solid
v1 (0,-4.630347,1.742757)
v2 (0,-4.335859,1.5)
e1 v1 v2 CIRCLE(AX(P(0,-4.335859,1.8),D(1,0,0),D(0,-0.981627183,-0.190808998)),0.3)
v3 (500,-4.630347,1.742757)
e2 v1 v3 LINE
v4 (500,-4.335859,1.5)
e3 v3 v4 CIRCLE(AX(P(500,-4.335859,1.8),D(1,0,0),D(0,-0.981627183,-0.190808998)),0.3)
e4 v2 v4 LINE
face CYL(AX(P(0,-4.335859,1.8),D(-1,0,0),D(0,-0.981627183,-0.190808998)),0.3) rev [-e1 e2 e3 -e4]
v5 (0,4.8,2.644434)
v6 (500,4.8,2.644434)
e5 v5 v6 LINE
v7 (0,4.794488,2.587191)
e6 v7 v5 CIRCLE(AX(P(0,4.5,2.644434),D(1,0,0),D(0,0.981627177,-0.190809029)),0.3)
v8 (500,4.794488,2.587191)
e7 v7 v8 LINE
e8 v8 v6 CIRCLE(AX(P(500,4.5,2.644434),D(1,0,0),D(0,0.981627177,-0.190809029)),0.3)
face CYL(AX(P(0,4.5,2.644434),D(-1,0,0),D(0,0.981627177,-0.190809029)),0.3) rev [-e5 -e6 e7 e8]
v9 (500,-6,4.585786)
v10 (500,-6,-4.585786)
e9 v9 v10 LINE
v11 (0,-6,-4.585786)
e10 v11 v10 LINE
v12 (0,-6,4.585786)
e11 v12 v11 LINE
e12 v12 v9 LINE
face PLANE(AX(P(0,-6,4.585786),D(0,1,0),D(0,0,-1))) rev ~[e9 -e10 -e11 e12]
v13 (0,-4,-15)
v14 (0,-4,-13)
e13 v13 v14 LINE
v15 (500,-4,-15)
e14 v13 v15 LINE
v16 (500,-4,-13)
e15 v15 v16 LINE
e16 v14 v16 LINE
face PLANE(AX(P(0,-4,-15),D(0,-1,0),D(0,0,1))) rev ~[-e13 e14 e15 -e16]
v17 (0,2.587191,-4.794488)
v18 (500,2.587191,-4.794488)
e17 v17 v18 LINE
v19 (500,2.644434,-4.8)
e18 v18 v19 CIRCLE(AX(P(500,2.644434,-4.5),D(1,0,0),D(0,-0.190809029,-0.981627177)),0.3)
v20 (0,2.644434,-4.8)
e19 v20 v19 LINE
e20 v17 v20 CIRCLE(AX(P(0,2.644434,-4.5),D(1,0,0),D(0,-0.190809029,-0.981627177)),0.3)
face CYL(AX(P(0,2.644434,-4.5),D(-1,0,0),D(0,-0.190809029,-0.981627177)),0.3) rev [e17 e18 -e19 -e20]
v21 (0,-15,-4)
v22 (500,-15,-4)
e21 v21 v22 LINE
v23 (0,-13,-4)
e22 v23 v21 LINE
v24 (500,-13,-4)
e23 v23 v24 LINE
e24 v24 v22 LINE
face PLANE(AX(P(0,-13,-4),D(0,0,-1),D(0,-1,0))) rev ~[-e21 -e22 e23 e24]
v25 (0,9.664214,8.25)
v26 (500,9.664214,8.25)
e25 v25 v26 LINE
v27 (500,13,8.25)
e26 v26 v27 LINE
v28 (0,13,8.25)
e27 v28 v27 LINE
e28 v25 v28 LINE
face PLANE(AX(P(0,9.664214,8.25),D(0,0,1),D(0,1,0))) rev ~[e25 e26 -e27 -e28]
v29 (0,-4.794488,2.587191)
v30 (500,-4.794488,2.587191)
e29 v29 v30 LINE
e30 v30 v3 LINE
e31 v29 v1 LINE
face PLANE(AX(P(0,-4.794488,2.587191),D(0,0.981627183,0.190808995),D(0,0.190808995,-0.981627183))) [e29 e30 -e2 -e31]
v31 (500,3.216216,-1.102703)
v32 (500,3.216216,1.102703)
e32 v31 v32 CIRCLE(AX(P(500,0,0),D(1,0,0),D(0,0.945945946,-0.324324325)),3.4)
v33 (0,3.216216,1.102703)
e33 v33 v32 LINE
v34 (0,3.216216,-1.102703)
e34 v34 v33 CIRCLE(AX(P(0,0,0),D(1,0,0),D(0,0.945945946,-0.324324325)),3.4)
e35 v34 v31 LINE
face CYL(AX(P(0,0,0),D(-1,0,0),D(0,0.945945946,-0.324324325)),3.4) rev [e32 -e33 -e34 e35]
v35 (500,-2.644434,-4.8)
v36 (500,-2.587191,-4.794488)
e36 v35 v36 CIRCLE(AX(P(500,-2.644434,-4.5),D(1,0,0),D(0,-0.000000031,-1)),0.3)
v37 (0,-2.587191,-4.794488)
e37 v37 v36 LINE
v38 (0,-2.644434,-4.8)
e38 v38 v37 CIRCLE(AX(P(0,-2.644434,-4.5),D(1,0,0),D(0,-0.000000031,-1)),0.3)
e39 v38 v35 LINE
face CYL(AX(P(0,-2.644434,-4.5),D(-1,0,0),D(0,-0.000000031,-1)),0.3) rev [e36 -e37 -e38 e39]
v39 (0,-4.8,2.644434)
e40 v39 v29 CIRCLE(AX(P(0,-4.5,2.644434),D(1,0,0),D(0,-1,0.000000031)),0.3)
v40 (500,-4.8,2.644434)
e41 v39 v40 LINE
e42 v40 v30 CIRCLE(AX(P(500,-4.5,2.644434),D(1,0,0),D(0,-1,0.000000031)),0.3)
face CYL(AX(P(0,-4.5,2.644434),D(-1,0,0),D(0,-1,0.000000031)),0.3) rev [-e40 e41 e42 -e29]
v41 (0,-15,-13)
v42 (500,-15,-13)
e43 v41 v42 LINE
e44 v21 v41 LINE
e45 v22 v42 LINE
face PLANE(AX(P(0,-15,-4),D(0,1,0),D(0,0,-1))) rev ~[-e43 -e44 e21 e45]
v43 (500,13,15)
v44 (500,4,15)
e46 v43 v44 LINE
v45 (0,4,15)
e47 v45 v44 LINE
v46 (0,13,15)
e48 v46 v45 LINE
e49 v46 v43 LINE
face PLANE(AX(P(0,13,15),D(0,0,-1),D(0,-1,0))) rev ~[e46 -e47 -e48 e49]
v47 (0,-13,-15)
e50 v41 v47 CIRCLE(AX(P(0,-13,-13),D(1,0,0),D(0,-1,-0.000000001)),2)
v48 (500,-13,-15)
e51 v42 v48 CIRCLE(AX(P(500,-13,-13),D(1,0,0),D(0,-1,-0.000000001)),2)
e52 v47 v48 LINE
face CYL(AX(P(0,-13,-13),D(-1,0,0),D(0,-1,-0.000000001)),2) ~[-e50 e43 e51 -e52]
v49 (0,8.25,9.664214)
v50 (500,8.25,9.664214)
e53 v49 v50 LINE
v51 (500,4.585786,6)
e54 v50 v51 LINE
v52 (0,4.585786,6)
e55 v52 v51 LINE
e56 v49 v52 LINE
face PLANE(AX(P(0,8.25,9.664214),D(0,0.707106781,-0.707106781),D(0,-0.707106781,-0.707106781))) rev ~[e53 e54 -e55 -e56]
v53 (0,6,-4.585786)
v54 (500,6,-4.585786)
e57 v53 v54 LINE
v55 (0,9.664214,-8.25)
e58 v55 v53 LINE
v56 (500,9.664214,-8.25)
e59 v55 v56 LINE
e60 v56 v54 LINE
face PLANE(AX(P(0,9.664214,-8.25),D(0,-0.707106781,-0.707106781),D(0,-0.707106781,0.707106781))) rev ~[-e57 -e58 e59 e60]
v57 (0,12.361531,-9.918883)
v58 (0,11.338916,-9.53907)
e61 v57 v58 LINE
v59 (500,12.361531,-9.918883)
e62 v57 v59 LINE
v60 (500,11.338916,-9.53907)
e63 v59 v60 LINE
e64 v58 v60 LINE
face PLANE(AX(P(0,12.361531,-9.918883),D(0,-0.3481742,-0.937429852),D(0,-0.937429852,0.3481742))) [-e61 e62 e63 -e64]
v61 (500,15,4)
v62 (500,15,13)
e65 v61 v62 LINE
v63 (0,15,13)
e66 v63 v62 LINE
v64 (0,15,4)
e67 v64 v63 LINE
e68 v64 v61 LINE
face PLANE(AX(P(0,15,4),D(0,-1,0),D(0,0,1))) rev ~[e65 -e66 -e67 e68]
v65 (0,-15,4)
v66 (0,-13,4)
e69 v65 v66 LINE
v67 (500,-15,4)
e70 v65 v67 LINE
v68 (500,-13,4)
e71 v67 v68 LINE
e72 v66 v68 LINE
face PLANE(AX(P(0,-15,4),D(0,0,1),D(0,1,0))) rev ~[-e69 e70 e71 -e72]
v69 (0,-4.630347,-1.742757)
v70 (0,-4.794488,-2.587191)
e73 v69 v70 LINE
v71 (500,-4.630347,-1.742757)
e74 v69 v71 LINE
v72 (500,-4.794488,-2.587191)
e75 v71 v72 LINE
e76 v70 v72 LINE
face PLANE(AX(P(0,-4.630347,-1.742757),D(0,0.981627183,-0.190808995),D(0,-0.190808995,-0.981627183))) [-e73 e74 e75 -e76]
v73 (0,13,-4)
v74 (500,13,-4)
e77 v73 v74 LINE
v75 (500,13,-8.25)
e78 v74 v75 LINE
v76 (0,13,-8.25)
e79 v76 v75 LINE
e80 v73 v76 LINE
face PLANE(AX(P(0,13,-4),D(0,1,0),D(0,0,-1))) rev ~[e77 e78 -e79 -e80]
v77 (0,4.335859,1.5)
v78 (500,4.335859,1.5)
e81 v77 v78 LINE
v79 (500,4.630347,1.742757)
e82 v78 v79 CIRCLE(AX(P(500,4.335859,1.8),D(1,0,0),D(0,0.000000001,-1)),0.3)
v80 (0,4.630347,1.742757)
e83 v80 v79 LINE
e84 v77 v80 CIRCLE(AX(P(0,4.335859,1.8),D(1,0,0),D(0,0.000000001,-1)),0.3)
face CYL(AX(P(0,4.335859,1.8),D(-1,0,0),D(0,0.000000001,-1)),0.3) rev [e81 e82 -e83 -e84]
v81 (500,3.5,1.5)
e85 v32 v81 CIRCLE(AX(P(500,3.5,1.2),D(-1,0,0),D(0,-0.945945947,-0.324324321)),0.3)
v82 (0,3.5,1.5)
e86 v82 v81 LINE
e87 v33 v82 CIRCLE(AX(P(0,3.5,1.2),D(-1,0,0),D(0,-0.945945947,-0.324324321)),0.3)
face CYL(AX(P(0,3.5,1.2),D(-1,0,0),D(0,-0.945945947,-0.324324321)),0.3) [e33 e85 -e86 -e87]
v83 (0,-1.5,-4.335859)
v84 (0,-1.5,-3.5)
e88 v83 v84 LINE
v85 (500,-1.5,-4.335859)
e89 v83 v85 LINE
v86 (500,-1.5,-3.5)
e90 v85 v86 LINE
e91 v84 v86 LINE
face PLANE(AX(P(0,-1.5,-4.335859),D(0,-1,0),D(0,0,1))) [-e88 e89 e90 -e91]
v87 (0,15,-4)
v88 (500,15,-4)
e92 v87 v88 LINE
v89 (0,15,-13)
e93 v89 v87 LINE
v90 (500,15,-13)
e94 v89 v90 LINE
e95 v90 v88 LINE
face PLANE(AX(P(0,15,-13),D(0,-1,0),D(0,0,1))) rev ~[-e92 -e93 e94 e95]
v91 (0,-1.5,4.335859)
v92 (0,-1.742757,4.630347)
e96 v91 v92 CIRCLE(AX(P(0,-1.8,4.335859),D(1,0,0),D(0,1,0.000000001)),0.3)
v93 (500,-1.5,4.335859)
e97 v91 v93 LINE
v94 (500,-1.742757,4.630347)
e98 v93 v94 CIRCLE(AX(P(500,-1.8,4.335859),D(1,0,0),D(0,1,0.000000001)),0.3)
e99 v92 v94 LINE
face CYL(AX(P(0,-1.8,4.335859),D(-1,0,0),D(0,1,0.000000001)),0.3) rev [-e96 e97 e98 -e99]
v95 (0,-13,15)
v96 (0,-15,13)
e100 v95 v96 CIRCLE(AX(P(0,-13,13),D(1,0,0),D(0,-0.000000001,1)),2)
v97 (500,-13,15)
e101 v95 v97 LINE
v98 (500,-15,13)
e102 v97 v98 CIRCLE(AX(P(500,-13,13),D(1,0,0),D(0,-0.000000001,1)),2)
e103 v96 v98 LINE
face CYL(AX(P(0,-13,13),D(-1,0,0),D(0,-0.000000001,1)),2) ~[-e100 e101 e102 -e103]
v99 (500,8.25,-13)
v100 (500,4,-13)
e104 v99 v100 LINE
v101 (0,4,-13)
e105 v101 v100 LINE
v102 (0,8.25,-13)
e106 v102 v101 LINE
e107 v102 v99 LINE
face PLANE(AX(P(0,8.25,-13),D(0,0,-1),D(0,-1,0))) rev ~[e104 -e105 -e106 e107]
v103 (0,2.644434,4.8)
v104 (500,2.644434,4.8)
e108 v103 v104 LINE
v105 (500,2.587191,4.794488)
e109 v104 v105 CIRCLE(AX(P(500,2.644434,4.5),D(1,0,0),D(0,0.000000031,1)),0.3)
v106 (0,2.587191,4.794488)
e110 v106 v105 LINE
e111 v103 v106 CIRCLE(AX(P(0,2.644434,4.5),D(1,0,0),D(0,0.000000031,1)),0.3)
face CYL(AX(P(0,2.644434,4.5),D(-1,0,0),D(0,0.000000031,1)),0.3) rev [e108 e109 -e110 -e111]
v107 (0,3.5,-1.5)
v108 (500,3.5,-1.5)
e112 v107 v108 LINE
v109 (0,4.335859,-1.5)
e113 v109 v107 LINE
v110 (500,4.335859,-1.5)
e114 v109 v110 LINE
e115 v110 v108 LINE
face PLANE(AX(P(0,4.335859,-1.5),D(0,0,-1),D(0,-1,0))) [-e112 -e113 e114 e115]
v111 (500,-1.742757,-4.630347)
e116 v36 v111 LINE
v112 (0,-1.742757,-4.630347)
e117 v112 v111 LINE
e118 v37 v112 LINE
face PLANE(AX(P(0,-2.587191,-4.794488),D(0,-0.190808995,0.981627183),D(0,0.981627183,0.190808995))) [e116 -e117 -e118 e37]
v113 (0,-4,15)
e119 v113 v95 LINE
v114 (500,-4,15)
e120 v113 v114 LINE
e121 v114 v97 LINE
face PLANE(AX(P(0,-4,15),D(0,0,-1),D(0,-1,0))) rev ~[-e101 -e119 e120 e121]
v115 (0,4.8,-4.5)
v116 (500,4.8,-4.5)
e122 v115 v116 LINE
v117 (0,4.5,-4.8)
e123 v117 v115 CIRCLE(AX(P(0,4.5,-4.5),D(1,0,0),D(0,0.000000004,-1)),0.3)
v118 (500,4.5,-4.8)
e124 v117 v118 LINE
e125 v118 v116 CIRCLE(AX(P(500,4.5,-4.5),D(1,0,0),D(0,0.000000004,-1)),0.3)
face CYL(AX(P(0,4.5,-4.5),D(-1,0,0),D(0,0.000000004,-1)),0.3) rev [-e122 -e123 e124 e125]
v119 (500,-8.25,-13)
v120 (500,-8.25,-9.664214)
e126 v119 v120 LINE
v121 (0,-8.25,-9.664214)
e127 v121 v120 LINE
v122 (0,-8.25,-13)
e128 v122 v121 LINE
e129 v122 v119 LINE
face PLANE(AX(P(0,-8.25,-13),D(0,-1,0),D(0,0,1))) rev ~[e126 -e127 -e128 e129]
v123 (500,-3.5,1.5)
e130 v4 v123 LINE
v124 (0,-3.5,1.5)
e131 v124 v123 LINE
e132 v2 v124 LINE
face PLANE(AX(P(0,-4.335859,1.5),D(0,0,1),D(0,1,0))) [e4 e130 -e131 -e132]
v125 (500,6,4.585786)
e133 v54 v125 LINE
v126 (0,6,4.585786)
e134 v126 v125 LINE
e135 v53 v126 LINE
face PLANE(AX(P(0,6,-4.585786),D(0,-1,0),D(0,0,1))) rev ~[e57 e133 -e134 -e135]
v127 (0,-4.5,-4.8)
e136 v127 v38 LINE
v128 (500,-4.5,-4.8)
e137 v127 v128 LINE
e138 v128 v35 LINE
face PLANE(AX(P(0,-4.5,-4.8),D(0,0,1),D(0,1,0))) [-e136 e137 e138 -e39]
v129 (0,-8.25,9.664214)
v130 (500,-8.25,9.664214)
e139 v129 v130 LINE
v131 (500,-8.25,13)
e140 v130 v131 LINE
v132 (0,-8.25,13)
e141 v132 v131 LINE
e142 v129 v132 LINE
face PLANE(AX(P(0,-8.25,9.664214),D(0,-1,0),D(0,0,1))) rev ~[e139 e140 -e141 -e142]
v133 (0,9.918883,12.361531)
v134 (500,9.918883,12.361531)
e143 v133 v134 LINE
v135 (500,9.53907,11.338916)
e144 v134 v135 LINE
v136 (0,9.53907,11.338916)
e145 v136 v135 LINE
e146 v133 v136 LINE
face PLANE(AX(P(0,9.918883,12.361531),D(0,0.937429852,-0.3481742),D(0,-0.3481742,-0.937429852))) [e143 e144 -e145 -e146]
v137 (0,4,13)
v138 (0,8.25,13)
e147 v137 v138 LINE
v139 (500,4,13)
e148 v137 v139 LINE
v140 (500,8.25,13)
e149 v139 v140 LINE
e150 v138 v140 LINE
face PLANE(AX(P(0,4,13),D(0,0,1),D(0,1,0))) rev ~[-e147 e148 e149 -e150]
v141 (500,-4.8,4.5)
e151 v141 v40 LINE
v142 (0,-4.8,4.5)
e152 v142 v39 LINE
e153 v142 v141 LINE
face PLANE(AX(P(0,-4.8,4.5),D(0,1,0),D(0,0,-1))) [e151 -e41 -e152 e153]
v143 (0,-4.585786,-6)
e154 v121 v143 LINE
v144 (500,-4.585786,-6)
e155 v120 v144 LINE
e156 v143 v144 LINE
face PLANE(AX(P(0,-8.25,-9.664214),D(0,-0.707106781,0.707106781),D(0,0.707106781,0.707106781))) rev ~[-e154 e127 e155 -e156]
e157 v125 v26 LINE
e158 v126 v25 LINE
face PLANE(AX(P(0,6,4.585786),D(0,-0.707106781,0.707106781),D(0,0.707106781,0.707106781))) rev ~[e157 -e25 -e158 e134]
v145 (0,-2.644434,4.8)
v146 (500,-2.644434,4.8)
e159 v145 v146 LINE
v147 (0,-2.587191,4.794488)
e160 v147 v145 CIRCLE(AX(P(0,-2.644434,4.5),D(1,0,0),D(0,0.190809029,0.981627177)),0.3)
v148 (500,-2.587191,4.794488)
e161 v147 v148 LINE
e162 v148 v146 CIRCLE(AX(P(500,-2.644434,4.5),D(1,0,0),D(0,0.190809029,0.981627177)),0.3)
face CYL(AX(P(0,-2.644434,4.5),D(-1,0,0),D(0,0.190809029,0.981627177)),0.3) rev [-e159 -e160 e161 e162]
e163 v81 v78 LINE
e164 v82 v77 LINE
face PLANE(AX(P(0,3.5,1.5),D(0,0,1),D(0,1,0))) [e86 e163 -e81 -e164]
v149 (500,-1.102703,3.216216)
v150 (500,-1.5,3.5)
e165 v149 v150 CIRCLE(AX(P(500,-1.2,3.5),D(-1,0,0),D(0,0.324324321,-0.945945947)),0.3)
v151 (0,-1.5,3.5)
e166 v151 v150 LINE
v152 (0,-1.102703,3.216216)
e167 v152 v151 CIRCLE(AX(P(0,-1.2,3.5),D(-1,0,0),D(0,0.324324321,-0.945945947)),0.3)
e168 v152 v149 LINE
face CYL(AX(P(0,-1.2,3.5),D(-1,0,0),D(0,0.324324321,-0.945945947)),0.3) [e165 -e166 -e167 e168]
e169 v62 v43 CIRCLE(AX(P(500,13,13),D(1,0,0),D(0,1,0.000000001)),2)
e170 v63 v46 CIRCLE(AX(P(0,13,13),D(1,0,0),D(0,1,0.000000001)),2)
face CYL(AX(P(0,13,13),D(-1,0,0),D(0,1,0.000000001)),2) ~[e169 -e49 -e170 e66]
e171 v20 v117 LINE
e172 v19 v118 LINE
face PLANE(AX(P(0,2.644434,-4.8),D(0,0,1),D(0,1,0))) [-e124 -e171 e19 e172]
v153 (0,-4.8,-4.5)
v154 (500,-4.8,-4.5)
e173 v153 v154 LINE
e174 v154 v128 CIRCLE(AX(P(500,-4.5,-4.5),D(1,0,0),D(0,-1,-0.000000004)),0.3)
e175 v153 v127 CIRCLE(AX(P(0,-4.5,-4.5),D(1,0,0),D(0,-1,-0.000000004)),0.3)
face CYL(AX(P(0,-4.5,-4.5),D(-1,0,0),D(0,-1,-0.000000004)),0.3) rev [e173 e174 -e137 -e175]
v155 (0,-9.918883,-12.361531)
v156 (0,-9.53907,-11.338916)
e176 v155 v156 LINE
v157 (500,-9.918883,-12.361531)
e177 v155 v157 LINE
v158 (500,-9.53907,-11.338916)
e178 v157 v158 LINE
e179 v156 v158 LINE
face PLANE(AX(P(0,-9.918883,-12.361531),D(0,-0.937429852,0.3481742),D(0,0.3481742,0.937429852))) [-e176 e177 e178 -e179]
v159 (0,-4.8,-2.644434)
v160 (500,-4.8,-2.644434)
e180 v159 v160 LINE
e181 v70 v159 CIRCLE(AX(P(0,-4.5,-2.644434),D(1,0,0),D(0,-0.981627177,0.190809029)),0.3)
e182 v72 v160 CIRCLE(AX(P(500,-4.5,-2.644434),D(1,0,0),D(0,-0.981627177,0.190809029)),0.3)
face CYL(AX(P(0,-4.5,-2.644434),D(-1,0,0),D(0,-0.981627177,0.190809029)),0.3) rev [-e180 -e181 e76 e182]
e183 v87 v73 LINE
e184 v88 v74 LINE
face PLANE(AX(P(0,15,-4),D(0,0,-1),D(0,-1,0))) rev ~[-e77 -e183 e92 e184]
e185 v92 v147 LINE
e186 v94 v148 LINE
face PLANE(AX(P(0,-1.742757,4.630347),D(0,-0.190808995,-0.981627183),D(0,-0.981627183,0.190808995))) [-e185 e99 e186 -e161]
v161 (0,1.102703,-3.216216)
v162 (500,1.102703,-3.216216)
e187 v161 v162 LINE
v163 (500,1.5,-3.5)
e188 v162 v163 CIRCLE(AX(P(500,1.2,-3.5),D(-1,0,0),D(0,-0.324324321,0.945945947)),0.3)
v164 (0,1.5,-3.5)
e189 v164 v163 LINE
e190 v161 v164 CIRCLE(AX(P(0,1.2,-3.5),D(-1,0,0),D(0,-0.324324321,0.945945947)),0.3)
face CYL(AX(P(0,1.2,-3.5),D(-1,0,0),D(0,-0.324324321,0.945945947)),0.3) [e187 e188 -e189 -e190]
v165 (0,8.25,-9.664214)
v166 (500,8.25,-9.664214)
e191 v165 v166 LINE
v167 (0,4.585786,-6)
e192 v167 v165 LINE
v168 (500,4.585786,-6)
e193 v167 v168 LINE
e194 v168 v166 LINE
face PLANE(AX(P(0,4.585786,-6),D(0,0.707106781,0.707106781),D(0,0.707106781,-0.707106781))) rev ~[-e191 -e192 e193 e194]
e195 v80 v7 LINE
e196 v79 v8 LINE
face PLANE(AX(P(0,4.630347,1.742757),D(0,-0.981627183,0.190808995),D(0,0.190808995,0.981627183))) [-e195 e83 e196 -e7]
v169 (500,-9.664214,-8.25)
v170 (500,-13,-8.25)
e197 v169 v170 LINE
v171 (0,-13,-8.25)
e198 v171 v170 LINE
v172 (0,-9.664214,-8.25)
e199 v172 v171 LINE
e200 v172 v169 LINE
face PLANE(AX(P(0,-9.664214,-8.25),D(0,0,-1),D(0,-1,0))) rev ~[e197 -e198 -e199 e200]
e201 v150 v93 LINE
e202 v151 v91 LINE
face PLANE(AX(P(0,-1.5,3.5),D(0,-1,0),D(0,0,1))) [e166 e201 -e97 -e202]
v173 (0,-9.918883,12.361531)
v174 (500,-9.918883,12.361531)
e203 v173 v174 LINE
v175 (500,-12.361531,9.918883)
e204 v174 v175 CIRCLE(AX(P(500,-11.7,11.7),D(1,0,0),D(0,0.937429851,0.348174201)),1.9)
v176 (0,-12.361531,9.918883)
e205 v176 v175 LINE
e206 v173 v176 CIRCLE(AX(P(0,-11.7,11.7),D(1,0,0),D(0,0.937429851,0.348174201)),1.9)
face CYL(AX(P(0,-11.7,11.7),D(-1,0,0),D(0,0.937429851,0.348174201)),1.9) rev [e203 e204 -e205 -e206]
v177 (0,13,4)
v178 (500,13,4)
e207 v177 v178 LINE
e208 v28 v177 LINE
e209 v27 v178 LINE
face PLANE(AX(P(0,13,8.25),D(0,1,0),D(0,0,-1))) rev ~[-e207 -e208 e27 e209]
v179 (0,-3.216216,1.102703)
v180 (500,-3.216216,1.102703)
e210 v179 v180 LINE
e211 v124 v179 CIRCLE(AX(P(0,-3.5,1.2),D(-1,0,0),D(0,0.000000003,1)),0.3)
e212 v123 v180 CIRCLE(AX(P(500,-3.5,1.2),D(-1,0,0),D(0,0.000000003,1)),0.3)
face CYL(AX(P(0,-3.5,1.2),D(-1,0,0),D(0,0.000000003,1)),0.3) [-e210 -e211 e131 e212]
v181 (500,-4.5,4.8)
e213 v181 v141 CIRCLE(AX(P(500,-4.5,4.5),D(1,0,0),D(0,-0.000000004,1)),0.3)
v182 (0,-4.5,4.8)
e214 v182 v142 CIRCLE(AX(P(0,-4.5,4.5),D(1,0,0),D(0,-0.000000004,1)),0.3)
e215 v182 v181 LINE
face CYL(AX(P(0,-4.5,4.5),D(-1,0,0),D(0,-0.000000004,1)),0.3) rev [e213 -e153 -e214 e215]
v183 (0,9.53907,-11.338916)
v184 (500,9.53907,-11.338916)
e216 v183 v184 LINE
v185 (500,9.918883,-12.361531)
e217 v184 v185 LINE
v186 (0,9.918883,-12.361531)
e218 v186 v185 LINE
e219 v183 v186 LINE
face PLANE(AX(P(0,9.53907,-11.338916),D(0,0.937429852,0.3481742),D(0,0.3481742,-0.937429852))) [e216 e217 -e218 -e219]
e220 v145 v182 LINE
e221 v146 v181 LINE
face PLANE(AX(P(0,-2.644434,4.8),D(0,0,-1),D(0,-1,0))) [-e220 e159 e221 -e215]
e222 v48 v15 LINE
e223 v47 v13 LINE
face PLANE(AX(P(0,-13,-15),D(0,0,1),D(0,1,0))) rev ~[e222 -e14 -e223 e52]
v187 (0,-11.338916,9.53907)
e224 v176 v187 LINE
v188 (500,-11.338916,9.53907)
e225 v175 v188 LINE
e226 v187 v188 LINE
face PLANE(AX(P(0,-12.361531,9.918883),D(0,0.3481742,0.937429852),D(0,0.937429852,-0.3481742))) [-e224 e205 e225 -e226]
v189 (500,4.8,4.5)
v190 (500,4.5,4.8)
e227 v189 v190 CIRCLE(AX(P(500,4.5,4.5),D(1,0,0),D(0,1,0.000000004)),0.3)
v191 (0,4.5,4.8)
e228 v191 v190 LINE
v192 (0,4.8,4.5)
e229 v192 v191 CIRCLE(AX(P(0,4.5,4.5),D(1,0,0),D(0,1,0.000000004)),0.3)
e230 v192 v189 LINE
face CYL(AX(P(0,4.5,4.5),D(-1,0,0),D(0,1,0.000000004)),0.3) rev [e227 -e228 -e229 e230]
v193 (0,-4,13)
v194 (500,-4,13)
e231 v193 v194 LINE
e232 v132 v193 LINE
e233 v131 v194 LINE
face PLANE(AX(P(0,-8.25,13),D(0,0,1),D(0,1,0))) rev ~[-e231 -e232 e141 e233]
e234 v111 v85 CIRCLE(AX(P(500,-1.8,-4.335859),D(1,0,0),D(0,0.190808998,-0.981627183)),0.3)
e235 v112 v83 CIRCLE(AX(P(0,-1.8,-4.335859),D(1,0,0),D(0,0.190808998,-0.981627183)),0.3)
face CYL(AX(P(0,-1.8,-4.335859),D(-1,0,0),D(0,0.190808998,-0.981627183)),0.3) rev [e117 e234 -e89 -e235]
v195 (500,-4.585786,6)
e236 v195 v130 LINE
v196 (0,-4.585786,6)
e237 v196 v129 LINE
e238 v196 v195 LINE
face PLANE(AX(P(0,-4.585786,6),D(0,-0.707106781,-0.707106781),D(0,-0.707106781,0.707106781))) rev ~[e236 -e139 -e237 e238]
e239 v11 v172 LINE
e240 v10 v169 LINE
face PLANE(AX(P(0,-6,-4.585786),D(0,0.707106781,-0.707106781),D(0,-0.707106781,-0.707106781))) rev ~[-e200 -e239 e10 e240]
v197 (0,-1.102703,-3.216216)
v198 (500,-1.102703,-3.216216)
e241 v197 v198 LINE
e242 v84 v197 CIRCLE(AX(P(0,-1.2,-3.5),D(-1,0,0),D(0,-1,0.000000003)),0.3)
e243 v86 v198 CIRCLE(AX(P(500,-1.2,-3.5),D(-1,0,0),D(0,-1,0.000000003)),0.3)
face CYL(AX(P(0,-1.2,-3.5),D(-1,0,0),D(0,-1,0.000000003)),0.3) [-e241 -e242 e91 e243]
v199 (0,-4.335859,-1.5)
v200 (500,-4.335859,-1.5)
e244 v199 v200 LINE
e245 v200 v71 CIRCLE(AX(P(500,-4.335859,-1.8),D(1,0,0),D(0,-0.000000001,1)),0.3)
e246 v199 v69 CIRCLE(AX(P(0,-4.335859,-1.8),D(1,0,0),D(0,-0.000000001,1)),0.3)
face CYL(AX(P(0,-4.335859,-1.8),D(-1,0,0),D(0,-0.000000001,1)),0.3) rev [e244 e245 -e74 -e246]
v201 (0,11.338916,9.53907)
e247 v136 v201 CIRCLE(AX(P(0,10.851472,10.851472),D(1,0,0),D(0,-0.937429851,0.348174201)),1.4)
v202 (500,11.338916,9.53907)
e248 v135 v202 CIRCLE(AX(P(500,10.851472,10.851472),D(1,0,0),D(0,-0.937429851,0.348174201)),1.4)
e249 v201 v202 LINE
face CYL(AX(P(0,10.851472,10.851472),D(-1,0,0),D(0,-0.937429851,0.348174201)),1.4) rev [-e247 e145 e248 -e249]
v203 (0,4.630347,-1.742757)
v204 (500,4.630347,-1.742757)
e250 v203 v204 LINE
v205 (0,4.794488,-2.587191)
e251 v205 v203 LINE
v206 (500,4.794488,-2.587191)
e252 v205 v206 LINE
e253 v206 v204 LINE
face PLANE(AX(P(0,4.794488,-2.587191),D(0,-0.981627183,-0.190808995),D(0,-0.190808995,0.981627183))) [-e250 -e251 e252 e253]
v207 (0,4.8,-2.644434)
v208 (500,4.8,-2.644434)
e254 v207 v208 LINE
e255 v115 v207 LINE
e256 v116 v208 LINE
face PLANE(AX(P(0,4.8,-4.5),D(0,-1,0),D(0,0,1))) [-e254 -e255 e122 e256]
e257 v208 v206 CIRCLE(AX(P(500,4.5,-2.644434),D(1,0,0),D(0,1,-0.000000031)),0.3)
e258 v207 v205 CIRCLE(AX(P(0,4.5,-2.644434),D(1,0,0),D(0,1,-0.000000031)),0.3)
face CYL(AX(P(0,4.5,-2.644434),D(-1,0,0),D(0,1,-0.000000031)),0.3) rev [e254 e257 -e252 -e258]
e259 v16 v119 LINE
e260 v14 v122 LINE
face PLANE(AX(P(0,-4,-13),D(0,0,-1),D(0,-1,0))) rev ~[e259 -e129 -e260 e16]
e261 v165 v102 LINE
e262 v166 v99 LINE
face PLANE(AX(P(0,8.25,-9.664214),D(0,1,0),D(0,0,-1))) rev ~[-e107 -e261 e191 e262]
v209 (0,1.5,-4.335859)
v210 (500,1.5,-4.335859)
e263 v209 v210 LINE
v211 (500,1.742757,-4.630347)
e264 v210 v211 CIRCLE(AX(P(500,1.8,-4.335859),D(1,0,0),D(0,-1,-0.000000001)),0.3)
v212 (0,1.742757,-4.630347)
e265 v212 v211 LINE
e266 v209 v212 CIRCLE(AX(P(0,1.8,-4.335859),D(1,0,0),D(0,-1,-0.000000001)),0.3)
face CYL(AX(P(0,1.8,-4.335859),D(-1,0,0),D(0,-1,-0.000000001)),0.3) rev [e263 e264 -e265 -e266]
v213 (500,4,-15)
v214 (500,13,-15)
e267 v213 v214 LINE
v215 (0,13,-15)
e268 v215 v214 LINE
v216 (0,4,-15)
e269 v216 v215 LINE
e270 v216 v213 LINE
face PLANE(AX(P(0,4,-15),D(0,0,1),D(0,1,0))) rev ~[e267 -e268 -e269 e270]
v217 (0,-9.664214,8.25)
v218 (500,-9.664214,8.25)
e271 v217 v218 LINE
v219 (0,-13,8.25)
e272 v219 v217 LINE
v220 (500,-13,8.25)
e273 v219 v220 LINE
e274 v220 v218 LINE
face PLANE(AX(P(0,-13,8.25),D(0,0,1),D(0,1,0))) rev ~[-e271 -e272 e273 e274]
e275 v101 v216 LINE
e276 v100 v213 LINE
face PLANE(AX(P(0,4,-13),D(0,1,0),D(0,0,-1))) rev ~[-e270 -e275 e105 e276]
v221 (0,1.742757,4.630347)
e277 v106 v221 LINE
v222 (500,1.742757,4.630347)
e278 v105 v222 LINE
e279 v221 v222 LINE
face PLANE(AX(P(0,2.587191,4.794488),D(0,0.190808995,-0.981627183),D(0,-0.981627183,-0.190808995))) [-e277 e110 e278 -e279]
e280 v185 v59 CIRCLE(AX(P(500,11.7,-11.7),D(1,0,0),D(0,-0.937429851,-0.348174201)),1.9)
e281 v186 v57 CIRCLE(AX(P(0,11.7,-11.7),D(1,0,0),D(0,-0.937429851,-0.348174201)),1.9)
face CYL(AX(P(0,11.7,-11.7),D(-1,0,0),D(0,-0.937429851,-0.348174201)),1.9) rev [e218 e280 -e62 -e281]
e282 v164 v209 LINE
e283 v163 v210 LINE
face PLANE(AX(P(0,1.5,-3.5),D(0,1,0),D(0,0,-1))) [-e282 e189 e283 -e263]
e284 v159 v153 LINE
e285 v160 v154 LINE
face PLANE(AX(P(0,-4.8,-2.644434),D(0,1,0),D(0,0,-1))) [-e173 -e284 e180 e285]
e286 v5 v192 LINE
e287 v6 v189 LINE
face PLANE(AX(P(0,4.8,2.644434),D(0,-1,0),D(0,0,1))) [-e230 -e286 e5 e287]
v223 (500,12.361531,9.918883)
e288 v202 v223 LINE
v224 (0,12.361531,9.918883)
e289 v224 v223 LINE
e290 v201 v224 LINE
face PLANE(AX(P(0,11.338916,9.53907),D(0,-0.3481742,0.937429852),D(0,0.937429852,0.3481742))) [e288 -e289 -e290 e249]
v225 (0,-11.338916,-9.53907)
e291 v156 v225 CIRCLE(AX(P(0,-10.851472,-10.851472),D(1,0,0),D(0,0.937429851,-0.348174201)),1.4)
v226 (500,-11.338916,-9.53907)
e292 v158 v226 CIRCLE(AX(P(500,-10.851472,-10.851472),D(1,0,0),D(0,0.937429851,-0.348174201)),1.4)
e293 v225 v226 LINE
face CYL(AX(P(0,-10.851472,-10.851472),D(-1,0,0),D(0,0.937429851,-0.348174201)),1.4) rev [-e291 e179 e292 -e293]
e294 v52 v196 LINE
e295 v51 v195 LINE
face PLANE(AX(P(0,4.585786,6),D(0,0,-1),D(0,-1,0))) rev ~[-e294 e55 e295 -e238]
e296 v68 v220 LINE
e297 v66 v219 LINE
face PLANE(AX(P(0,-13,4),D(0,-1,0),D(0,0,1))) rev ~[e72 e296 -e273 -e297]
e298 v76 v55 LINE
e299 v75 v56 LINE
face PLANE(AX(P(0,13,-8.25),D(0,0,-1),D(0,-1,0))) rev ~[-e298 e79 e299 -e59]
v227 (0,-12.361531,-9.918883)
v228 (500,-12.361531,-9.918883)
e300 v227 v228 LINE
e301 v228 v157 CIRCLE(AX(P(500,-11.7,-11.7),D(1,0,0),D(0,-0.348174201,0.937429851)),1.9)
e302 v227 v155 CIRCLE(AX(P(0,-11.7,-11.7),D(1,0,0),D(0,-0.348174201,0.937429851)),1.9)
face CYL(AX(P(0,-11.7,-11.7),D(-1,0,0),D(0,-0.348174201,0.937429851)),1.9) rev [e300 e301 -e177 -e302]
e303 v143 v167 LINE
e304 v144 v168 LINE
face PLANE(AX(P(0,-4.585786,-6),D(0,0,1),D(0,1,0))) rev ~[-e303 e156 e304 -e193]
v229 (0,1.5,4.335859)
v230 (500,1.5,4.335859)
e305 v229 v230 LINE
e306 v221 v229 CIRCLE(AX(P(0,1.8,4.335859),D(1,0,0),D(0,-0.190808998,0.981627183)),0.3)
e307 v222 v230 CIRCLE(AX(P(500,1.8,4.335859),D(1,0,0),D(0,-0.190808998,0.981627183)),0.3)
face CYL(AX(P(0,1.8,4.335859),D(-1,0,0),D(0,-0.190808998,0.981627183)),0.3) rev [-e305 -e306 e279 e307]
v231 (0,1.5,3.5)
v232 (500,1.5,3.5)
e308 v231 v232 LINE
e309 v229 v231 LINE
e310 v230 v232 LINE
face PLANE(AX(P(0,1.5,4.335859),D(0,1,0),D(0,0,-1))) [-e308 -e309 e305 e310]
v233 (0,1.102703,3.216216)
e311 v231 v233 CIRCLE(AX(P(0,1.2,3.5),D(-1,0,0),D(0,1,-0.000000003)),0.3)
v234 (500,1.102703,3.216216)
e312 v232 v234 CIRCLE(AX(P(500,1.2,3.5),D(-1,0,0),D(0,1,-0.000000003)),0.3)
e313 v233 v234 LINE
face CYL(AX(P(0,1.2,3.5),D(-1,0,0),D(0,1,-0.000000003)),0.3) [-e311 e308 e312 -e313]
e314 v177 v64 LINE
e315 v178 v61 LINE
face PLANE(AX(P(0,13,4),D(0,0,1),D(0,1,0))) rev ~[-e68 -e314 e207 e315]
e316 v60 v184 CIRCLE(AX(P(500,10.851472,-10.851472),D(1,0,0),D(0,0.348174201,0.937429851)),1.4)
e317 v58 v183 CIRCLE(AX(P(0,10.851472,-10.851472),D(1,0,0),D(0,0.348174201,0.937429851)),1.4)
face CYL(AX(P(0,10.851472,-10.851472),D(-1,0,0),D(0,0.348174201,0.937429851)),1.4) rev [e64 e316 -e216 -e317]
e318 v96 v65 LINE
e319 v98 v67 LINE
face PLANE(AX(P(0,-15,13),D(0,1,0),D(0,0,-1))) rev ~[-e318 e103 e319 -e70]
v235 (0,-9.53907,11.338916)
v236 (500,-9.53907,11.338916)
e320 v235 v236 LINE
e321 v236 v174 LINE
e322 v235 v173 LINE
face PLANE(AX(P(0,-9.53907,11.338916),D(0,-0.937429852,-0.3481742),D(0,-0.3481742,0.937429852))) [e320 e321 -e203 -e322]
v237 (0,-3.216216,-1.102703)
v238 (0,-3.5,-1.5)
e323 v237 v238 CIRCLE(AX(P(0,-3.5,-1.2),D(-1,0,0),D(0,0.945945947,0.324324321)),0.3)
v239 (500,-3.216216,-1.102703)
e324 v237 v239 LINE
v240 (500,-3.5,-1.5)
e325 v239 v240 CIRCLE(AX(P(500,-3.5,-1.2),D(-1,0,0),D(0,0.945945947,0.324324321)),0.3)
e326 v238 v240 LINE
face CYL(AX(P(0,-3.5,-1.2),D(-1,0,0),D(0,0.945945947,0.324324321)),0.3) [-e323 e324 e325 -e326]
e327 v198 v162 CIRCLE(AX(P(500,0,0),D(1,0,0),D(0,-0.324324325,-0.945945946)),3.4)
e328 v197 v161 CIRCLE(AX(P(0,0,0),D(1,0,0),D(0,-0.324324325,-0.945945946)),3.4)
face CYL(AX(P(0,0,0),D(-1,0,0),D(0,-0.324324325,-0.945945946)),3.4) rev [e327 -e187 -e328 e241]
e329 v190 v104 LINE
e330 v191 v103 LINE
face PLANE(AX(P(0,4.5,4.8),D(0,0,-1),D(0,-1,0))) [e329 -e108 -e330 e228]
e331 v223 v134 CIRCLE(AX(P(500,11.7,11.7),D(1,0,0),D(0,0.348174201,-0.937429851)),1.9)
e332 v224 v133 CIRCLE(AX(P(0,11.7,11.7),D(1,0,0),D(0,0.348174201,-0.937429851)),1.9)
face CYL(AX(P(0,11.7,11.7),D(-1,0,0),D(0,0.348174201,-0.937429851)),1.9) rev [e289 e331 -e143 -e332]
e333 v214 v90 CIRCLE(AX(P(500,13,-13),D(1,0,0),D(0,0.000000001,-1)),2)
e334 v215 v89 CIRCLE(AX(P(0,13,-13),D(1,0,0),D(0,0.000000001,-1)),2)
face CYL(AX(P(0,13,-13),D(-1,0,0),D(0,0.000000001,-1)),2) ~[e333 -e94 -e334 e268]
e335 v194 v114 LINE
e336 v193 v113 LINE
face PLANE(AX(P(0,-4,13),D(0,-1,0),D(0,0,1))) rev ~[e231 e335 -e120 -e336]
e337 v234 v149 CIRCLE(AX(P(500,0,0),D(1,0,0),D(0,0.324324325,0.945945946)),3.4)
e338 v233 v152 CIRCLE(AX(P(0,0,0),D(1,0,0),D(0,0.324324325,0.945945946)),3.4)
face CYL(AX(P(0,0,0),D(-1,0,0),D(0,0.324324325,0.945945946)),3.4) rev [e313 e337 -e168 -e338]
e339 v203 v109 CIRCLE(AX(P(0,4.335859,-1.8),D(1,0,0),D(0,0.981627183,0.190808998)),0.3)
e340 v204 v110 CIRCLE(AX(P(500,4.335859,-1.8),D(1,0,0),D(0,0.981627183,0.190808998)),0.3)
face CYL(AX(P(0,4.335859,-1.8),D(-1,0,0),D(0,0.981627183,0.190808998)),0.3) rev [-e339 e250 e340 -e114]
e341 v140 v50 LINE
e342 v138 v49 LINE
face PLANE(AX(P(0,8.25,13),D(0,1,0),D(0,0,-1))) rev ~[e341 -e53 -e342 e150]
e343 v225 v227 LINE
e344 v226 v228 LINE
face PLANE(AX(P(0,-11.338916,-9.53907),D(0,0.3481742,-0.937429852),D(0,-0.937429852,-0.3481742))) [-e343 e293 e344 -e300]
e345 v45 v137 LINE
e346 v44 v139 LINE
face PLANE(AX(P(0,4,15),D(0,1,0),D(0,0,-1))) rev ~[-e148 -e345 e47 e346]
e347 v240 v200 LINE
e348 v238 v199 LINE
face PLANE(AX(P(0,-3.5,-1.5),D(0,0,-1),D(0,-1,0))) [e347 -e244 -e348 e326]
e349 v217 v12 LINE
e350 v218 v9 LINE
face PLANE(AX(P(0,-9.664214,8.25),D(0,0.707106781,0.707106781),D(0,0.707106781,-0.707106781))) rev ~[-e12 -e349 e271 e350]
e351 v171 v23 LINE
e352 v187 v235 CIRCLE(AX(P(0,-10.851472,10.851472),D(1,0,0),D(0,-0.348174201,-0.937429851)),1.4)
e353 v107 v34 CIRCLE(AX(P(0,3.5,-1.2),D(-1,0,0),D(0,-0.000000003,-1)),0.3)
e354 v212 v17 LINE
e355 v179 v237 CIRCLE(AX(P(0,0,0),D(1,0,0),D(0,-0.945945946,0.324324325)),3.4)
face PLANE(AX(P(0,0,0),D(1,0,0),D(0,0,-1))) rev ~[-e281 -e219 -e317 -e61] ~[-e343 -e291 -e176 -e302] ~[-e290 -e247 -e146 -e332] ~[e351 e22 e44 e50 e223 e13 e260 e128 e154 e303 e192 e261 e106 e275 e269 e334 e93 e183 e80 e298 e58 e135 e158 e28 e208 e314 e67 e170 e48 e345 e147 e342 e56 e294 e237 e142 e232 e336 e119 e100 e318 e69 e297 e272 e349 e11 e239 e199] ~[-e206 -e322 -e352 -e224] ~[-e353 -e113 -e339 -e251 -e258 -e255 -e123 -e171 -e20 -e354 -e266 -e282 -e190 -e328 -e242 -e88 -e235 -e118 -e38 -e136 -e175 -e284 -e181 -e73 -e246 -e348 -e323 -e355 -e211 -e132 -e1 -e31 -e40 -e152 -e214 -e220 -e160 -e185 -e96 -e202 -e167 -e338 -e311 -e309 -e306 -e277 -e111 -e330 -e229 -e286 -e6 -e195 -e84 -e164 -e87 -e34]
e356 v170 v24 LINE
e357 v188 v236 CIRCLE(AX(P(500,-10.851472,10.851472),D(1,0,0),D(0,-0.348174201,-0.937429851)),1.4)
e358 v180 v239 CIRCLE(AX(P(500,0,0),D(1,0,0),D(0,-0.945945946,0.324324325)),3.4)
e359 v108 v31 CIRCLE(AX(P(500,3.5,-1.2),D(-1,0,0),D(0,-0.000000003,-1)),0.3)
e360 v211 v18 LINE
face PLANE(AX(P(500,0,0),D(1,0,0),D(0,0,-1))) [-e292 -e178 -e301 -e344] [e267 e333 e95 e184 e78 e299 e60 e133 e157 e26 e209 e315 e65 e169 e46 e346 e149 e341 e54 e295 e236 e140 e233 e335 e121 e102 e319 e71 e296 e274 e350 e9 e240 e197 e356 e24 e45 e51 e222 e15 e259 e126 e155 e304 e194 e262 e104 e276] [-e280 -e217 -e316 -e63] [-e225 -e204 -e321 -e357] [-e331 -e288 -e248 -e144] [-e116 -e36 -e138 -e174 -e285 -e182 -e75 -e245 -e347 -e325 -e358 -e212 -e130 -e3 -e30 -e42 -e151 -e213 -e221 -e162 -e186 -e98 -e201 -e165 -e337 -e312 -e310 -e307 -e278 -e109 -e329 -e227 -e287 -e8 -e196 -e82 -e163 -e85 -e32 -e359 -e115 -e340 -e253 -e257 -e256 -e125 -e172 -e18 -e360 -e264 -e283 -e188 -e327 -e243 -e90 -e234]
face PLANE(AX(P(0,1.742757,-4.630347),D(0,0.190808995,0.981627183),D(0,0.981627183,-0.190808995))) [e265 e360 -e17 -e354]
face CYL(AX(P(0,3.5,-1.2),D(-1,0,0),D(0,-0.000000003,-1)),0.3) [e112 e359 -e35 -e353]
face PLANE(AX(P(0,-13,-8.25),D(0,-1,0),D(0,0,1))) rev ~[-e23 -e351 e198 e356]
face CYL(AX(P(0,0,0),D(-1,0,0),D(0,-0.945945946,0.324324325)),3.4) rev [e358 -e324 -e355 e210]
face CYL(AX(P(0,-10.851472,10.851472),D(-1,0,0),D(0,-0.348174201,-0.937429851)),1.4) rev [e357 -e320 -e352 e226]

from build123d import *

# Parameters (mm, degrees)
BOSS_EXTRUDE1_DEPTH = 500


with BuildPart() as part:
    # Sketch1 → Boss-Extrude1 (new body)
    with BuildSketch(Plane(origin=(0, 0, 0), x_dir=(0, 0, -1), z_dir=(1, 0, 0))):
        with BuildLine():
            Line((-15, 13), (-15, 4))
            Line((-15, 4), (-13, 4))
            Line((-13, 4), (-13, 8.25))
            Line((-13, 8.25), (-9.664213562, 8.25))
            Line((-9.664213562, 8.25), (-6, 4.585786438))
            Line((-6, 4.585786438), (-6, -4.585786438))
            Line((-6, -4.585786438), (-9.664213562, -8.25))
            Line((-9.664213562, -8.25), (-13, -8.25))
            Line((-13, -8.25), (-13, -4))
            Line((-13, -4), (-15, -4))
            Line((-15, -4), (-15, -13))
            ThreePointArc((-15, -13), (-14.414213562, -14.414213562), (-13, -15))
            Line((-13, -15), (-4, -15))
            Line((-4, -15), (-4, -13))
            Line((-4, -13), (-8.25, -13))
            Line((-8.25, -13), (-8.25, -9.664213562))
            Line((-8.25, -9.664213562), (-4.585786438, -6))
            Line((-4.585786438, -6), (4.585786438, -6))
            Line((4.585786438, -6), (8.25, -9.664213562))
            Line((8.25, -9.664213562), (8.25, -13))
            Line((8.25, -13), (4, -13))
            Line((4, -13), (4, -15))
            Line((4, -15), (13, -15))
            ThreePointArc((13, -15), (14.414213562, -14.414213562), (15, -13))
            Line((15, -13), (15, -4))
            Line((15, -4), (13, -4))
            Line((13, -4), (13, -8.25))
            Line((13, -8.25), (9.664213562, -8.25))
            Line((9.664213562, -8.25), (6, -4.585786438))
            Line((6, -4.585786438), (6, 4.585786438))
            Line((6, 4.585786438), (9.664213562, 8.25))
            Line((9.664213562, 8.25), (13, 8.25))
            Line((13, 8.25), (13, 4))
            Line((13, 4), (15, 4))
            Line((15, 4), (15, 13))
            ThreePointArc((15, 13), (14.414213562, 14.414213562), (13, 15))
            Line((13, 15), (4, 15))
            Line((4, 15), (4, 13))
            Line((4, 13), (8.25, 13))
            Line((8.25, 13), (8.25, 9.664213562))
            Line((8.25, 9.664213562), (4.585786438, 6))
            Line((4.585786438, 6), (-4.585786438, 6))
            Line((-4.585786438, 6), (-8.25, 9.664213562))
            Line((-8.25, 9.664213562), (-8.25, 13))
            Line((-8.25, 13), (-4, 13))
            Line((-4, 13), (-4, 15))
            Line((-4, 15), (-13, 15))
            ThreePointArc((-13, 15), (-14.414213562, 14.414213562), (-15, 13))
        make_face()
        with BuildLine():
            Line((-9.539070071, 11.338915743), (-9.918883282, 12.361530981))
            ThreePointArc((-9.918883282, 12.361530981), (-13.043502884, 13.043502884), (-12.361530981, 9.918883282))
            Line((-12.361530981, 9.918883282), (-11.338915743, 9.539070071))
            ThreePointArc((-11.338915743, 9.539070071), (-9.861522369, 9.861522369), (-9.539070071, 11.338915743))
        make_face(mode=Mode.SUBTRACT)
        with BuildLine():
            Line((9.918883282, 12.361530981), (9.539070071, 11.338915743))
            ThreePointArc((9.539070071, 11.338915743), (9.861522369, 9.861522369), (11.338915743, 9.539070071))
            Line((11.338915743, 9.539070071), (12.361530981, 9.918883282))
            ThreePointArc((12.361530981, 9.918883282), (13.043502884, 13.043502884), (9.918883282, 12.361530981))
        make_face(mode=Mode.SUBTRACT)
        with BuildLine():
            Line((12.361530981, -9.918883282), (11.338915743, -9.539070071))
            ThreePointArc((11.338915743, -9.539070071), (9.861522369, -9.861522369), (9.539070071, -11.338915743))
            Line((9.539070071, -11.338915743), (9.918883282, -12.361530981))
            ThreePointArc((9.918883282, -12.361530981), (13.043502884, -13.043502884), (12.361530981, -9.918883282))
        make_face(mode=Mode.SUBTRACT)
        with BuildLine():
            Line((-11.338915743, -9.539070071), (-12.361530981, -9.918883282))
            ThreePointArc((-12.361530981, -9.918883282), (-13.043502884, -13.043502884), (-9.918883282, -12.361530981))
            Line((-9.918883282, -12.361530981), (-9.539070071, -11.338915743))
            ThreePointArc((-9.539070071, -11.338915743), (-9.861522369, -9.861522369), (-11.338915743, -9.539070071))
        make_face(mode=Mode.SUBTRACT)
        with BuildLine():
            Line((-4.8, -2.644433572), (-4.8, -4.5))
            ThreePointArc((-4.8, -4.5), (-4.712132034, -4.712132034), (-4.5, -4.8))
            Line((-4.5, -4.8), (-2.644433572, -4.8))
            ThreePointArc((-2.644433572, -4.8), (-2.615679847, -4.79861886), (-2.587190874, -4.794488155))
            Line((-2.587190874, -4.794488155), (-1.742757301, -4.630346896))
            ThreePointArc((-1.742757301, -4.630346896), (-1.568512625, -4.526682207), (-1.5, -4.335858741))
            Line((-1.5, -4.335858741), (-1.5, -3.5))
            ThreePointArc((-1.5, -3.5), (-1.374371458, -3.255879959), (-1.102702703, -3.216216216))
            ThreePointArc((-1.102702703, -3.216216216), (0, -3.4), (1.102702703, -3.216216216))
            ThreePointArc((1.102702703, -3.216216216), (1.374371458, -3.255879959), (1.5, -3.5))
            Line((1.5, -3.5), (1.5, -4.335858741))
            ThreePointArc((1.5, -4.335858741), (1.568512625, -4.526682207), (1.742757301, -4.630346896))
            Line((1.742757301, -4.630346896), (2.587190874, -4.794488155))
            ThreePointArc((2.587190874, -4.794488155), (2.615679847, -4.79861886), (2.644433572, -4.8))
            Line((2.644433572, -4.8), (4.5, -4.8))
            ThreePointArc((4.5, -4.8), (4.712132034, -4.712132034), (4.8, -4.5))
            Line((4.8, -4.5), (4.8, -2.644433572))
            ThreePointArc((4.8, -2.644433572), (4.79861886, -2.615679847), (4.794488155, -2.587190874))
            Line((4.794488155, -2.587190874), (4.630346896, -1.742757301))
            ThreePointArc((4.630346896, -1.742757301), (4.526682207, -1.568512625), (4.335858741, -1.5))
            Line((4.335858741, -1.5), (3.5, -1.5))
            ThreePointArc((3.5, -1.5), (3.255879959, -1.374371458), (3.216216216, -1.102702703))
            ThreePointArc((3.216216216, -1.102702703), (3.4, 0), (3.216216216, 1.102702703))
            ThreePointArc((3.216216216, 1.102702703), (3.255879959, 1.374371458), (3.5, 1.5))
            Line((3.5, 1.5), (4.335858741, 1.5))
            ThreePointArc((4.335858741, 1.5), (4.526682207, 1.568512625), (4.630346896, 1.742757301))
            Line((4.630346896, 1.742757301), (4.794488155, 2.587190874))
            ThreePointArc((4.794488155, 2.587190874), (4.79861886, 2.615679847), (4.8, 2.644433572))
            Line((4.8, 2.644433572), (4.8, 4.5))
            ThreePointArc((4.8, 4.5), (4.712132034, 4.712132034), (4.5, 4.8))
            Line((4.5, 4.8), (2.644433572, 4.8))
            ThreePointArc((2.644433572, 4.8), (2.615679847, 4.79861886), (2.587190874, 4.794488155))
            Line((2.587190874, 4.794488155), (1.742757301, 4.630346896))
            ThreePointArc((1.742757301, 4.630346896), (1.568512625, 4.526682207), (1.5, 4.335858741))
            Line((1.5, 4.335858741), (1.5, 3.5))
            ThreePointArc((1.5, 3.5), (1.374371458, 3.255879959), (1.102702703, 3.216216216))
            ThreePointArc((1.102702703, 3.216216216), (0, 3.4), (-1.102702703, 3.216216216))
            ThreePointArc((-1.102702703, 3.216216216), (-1.374371458, 3.255879959), (-1.5, 3.5))
            Line((-1.5, 3.5), (-1.5, 4.335858741))
            ThreePointArc((-1.5, 4.335858741), (-1.568512625, 4.526682207), (-1.742757301, 4.630346896))
            Line((-1.742757301, 4.630346896), (-2.587190874, 4.794488155))
            ThreePointArc((-2.587190874, 4.794488155), (-2.615679847, 4.79861886), (-2.644433572, 4.8))
            Line((-2.644433572, 4.8), (-4.5, 4.8))
            ThreePointArc((-4.5, 4.8), (-4.712132034, 4.712132034), (-4.8, 4.5))
            Line((-4.8, 4.5), (-4.8, 2.644433572))
            ThreePointArc((-4.8, 2.644433572), (-4.79861886, 2.615679847), (-4.794488155, 2.587190874))
            Line((-4.794488155, 2.587190874), (-4.630346896, 1.742757301))
            ThreePointArc((-4.630346896, 1.742757301), (-4.526682207, 1.568512625), (-4.335858741, 1.5))
            Line((-4.335858741, 1.5), (-3.5, 1.5))
            ThreePointArc((-3.5, 1.5), (-3.255879959, 1.374371458), (-3.216216216, 1.102702703))
            ThreePointArc((-3.216216216, 1.102702703), (-3.4, 0), (-3.216216216, -1.102702703))
            ThreePointArc((-3.216216216, -1.102702703), (-3.255879959, -1.374371458), (-3.5, -1.5))
            Line((-3.5, -1.5), (-4.335858741, -1.5))
            ThreePointArc((-4.335858741, -1.5), (-4.526682207, -1.568512625), (-4.630346896, -1.742757301))
            Line((-4.630346896, -1.742757301), (-4.794488155, -2.587190874))
            ThreePointArc((-4.794488155, -2.587190874), (-4.79861886, -2.615679847), (-4.8, -2.644433572))
        make_face(mode=Mode.SUBTRACT)
    extrude(amount=BOSS_EXTRUDE1_DEPTH)


solid = part.part
